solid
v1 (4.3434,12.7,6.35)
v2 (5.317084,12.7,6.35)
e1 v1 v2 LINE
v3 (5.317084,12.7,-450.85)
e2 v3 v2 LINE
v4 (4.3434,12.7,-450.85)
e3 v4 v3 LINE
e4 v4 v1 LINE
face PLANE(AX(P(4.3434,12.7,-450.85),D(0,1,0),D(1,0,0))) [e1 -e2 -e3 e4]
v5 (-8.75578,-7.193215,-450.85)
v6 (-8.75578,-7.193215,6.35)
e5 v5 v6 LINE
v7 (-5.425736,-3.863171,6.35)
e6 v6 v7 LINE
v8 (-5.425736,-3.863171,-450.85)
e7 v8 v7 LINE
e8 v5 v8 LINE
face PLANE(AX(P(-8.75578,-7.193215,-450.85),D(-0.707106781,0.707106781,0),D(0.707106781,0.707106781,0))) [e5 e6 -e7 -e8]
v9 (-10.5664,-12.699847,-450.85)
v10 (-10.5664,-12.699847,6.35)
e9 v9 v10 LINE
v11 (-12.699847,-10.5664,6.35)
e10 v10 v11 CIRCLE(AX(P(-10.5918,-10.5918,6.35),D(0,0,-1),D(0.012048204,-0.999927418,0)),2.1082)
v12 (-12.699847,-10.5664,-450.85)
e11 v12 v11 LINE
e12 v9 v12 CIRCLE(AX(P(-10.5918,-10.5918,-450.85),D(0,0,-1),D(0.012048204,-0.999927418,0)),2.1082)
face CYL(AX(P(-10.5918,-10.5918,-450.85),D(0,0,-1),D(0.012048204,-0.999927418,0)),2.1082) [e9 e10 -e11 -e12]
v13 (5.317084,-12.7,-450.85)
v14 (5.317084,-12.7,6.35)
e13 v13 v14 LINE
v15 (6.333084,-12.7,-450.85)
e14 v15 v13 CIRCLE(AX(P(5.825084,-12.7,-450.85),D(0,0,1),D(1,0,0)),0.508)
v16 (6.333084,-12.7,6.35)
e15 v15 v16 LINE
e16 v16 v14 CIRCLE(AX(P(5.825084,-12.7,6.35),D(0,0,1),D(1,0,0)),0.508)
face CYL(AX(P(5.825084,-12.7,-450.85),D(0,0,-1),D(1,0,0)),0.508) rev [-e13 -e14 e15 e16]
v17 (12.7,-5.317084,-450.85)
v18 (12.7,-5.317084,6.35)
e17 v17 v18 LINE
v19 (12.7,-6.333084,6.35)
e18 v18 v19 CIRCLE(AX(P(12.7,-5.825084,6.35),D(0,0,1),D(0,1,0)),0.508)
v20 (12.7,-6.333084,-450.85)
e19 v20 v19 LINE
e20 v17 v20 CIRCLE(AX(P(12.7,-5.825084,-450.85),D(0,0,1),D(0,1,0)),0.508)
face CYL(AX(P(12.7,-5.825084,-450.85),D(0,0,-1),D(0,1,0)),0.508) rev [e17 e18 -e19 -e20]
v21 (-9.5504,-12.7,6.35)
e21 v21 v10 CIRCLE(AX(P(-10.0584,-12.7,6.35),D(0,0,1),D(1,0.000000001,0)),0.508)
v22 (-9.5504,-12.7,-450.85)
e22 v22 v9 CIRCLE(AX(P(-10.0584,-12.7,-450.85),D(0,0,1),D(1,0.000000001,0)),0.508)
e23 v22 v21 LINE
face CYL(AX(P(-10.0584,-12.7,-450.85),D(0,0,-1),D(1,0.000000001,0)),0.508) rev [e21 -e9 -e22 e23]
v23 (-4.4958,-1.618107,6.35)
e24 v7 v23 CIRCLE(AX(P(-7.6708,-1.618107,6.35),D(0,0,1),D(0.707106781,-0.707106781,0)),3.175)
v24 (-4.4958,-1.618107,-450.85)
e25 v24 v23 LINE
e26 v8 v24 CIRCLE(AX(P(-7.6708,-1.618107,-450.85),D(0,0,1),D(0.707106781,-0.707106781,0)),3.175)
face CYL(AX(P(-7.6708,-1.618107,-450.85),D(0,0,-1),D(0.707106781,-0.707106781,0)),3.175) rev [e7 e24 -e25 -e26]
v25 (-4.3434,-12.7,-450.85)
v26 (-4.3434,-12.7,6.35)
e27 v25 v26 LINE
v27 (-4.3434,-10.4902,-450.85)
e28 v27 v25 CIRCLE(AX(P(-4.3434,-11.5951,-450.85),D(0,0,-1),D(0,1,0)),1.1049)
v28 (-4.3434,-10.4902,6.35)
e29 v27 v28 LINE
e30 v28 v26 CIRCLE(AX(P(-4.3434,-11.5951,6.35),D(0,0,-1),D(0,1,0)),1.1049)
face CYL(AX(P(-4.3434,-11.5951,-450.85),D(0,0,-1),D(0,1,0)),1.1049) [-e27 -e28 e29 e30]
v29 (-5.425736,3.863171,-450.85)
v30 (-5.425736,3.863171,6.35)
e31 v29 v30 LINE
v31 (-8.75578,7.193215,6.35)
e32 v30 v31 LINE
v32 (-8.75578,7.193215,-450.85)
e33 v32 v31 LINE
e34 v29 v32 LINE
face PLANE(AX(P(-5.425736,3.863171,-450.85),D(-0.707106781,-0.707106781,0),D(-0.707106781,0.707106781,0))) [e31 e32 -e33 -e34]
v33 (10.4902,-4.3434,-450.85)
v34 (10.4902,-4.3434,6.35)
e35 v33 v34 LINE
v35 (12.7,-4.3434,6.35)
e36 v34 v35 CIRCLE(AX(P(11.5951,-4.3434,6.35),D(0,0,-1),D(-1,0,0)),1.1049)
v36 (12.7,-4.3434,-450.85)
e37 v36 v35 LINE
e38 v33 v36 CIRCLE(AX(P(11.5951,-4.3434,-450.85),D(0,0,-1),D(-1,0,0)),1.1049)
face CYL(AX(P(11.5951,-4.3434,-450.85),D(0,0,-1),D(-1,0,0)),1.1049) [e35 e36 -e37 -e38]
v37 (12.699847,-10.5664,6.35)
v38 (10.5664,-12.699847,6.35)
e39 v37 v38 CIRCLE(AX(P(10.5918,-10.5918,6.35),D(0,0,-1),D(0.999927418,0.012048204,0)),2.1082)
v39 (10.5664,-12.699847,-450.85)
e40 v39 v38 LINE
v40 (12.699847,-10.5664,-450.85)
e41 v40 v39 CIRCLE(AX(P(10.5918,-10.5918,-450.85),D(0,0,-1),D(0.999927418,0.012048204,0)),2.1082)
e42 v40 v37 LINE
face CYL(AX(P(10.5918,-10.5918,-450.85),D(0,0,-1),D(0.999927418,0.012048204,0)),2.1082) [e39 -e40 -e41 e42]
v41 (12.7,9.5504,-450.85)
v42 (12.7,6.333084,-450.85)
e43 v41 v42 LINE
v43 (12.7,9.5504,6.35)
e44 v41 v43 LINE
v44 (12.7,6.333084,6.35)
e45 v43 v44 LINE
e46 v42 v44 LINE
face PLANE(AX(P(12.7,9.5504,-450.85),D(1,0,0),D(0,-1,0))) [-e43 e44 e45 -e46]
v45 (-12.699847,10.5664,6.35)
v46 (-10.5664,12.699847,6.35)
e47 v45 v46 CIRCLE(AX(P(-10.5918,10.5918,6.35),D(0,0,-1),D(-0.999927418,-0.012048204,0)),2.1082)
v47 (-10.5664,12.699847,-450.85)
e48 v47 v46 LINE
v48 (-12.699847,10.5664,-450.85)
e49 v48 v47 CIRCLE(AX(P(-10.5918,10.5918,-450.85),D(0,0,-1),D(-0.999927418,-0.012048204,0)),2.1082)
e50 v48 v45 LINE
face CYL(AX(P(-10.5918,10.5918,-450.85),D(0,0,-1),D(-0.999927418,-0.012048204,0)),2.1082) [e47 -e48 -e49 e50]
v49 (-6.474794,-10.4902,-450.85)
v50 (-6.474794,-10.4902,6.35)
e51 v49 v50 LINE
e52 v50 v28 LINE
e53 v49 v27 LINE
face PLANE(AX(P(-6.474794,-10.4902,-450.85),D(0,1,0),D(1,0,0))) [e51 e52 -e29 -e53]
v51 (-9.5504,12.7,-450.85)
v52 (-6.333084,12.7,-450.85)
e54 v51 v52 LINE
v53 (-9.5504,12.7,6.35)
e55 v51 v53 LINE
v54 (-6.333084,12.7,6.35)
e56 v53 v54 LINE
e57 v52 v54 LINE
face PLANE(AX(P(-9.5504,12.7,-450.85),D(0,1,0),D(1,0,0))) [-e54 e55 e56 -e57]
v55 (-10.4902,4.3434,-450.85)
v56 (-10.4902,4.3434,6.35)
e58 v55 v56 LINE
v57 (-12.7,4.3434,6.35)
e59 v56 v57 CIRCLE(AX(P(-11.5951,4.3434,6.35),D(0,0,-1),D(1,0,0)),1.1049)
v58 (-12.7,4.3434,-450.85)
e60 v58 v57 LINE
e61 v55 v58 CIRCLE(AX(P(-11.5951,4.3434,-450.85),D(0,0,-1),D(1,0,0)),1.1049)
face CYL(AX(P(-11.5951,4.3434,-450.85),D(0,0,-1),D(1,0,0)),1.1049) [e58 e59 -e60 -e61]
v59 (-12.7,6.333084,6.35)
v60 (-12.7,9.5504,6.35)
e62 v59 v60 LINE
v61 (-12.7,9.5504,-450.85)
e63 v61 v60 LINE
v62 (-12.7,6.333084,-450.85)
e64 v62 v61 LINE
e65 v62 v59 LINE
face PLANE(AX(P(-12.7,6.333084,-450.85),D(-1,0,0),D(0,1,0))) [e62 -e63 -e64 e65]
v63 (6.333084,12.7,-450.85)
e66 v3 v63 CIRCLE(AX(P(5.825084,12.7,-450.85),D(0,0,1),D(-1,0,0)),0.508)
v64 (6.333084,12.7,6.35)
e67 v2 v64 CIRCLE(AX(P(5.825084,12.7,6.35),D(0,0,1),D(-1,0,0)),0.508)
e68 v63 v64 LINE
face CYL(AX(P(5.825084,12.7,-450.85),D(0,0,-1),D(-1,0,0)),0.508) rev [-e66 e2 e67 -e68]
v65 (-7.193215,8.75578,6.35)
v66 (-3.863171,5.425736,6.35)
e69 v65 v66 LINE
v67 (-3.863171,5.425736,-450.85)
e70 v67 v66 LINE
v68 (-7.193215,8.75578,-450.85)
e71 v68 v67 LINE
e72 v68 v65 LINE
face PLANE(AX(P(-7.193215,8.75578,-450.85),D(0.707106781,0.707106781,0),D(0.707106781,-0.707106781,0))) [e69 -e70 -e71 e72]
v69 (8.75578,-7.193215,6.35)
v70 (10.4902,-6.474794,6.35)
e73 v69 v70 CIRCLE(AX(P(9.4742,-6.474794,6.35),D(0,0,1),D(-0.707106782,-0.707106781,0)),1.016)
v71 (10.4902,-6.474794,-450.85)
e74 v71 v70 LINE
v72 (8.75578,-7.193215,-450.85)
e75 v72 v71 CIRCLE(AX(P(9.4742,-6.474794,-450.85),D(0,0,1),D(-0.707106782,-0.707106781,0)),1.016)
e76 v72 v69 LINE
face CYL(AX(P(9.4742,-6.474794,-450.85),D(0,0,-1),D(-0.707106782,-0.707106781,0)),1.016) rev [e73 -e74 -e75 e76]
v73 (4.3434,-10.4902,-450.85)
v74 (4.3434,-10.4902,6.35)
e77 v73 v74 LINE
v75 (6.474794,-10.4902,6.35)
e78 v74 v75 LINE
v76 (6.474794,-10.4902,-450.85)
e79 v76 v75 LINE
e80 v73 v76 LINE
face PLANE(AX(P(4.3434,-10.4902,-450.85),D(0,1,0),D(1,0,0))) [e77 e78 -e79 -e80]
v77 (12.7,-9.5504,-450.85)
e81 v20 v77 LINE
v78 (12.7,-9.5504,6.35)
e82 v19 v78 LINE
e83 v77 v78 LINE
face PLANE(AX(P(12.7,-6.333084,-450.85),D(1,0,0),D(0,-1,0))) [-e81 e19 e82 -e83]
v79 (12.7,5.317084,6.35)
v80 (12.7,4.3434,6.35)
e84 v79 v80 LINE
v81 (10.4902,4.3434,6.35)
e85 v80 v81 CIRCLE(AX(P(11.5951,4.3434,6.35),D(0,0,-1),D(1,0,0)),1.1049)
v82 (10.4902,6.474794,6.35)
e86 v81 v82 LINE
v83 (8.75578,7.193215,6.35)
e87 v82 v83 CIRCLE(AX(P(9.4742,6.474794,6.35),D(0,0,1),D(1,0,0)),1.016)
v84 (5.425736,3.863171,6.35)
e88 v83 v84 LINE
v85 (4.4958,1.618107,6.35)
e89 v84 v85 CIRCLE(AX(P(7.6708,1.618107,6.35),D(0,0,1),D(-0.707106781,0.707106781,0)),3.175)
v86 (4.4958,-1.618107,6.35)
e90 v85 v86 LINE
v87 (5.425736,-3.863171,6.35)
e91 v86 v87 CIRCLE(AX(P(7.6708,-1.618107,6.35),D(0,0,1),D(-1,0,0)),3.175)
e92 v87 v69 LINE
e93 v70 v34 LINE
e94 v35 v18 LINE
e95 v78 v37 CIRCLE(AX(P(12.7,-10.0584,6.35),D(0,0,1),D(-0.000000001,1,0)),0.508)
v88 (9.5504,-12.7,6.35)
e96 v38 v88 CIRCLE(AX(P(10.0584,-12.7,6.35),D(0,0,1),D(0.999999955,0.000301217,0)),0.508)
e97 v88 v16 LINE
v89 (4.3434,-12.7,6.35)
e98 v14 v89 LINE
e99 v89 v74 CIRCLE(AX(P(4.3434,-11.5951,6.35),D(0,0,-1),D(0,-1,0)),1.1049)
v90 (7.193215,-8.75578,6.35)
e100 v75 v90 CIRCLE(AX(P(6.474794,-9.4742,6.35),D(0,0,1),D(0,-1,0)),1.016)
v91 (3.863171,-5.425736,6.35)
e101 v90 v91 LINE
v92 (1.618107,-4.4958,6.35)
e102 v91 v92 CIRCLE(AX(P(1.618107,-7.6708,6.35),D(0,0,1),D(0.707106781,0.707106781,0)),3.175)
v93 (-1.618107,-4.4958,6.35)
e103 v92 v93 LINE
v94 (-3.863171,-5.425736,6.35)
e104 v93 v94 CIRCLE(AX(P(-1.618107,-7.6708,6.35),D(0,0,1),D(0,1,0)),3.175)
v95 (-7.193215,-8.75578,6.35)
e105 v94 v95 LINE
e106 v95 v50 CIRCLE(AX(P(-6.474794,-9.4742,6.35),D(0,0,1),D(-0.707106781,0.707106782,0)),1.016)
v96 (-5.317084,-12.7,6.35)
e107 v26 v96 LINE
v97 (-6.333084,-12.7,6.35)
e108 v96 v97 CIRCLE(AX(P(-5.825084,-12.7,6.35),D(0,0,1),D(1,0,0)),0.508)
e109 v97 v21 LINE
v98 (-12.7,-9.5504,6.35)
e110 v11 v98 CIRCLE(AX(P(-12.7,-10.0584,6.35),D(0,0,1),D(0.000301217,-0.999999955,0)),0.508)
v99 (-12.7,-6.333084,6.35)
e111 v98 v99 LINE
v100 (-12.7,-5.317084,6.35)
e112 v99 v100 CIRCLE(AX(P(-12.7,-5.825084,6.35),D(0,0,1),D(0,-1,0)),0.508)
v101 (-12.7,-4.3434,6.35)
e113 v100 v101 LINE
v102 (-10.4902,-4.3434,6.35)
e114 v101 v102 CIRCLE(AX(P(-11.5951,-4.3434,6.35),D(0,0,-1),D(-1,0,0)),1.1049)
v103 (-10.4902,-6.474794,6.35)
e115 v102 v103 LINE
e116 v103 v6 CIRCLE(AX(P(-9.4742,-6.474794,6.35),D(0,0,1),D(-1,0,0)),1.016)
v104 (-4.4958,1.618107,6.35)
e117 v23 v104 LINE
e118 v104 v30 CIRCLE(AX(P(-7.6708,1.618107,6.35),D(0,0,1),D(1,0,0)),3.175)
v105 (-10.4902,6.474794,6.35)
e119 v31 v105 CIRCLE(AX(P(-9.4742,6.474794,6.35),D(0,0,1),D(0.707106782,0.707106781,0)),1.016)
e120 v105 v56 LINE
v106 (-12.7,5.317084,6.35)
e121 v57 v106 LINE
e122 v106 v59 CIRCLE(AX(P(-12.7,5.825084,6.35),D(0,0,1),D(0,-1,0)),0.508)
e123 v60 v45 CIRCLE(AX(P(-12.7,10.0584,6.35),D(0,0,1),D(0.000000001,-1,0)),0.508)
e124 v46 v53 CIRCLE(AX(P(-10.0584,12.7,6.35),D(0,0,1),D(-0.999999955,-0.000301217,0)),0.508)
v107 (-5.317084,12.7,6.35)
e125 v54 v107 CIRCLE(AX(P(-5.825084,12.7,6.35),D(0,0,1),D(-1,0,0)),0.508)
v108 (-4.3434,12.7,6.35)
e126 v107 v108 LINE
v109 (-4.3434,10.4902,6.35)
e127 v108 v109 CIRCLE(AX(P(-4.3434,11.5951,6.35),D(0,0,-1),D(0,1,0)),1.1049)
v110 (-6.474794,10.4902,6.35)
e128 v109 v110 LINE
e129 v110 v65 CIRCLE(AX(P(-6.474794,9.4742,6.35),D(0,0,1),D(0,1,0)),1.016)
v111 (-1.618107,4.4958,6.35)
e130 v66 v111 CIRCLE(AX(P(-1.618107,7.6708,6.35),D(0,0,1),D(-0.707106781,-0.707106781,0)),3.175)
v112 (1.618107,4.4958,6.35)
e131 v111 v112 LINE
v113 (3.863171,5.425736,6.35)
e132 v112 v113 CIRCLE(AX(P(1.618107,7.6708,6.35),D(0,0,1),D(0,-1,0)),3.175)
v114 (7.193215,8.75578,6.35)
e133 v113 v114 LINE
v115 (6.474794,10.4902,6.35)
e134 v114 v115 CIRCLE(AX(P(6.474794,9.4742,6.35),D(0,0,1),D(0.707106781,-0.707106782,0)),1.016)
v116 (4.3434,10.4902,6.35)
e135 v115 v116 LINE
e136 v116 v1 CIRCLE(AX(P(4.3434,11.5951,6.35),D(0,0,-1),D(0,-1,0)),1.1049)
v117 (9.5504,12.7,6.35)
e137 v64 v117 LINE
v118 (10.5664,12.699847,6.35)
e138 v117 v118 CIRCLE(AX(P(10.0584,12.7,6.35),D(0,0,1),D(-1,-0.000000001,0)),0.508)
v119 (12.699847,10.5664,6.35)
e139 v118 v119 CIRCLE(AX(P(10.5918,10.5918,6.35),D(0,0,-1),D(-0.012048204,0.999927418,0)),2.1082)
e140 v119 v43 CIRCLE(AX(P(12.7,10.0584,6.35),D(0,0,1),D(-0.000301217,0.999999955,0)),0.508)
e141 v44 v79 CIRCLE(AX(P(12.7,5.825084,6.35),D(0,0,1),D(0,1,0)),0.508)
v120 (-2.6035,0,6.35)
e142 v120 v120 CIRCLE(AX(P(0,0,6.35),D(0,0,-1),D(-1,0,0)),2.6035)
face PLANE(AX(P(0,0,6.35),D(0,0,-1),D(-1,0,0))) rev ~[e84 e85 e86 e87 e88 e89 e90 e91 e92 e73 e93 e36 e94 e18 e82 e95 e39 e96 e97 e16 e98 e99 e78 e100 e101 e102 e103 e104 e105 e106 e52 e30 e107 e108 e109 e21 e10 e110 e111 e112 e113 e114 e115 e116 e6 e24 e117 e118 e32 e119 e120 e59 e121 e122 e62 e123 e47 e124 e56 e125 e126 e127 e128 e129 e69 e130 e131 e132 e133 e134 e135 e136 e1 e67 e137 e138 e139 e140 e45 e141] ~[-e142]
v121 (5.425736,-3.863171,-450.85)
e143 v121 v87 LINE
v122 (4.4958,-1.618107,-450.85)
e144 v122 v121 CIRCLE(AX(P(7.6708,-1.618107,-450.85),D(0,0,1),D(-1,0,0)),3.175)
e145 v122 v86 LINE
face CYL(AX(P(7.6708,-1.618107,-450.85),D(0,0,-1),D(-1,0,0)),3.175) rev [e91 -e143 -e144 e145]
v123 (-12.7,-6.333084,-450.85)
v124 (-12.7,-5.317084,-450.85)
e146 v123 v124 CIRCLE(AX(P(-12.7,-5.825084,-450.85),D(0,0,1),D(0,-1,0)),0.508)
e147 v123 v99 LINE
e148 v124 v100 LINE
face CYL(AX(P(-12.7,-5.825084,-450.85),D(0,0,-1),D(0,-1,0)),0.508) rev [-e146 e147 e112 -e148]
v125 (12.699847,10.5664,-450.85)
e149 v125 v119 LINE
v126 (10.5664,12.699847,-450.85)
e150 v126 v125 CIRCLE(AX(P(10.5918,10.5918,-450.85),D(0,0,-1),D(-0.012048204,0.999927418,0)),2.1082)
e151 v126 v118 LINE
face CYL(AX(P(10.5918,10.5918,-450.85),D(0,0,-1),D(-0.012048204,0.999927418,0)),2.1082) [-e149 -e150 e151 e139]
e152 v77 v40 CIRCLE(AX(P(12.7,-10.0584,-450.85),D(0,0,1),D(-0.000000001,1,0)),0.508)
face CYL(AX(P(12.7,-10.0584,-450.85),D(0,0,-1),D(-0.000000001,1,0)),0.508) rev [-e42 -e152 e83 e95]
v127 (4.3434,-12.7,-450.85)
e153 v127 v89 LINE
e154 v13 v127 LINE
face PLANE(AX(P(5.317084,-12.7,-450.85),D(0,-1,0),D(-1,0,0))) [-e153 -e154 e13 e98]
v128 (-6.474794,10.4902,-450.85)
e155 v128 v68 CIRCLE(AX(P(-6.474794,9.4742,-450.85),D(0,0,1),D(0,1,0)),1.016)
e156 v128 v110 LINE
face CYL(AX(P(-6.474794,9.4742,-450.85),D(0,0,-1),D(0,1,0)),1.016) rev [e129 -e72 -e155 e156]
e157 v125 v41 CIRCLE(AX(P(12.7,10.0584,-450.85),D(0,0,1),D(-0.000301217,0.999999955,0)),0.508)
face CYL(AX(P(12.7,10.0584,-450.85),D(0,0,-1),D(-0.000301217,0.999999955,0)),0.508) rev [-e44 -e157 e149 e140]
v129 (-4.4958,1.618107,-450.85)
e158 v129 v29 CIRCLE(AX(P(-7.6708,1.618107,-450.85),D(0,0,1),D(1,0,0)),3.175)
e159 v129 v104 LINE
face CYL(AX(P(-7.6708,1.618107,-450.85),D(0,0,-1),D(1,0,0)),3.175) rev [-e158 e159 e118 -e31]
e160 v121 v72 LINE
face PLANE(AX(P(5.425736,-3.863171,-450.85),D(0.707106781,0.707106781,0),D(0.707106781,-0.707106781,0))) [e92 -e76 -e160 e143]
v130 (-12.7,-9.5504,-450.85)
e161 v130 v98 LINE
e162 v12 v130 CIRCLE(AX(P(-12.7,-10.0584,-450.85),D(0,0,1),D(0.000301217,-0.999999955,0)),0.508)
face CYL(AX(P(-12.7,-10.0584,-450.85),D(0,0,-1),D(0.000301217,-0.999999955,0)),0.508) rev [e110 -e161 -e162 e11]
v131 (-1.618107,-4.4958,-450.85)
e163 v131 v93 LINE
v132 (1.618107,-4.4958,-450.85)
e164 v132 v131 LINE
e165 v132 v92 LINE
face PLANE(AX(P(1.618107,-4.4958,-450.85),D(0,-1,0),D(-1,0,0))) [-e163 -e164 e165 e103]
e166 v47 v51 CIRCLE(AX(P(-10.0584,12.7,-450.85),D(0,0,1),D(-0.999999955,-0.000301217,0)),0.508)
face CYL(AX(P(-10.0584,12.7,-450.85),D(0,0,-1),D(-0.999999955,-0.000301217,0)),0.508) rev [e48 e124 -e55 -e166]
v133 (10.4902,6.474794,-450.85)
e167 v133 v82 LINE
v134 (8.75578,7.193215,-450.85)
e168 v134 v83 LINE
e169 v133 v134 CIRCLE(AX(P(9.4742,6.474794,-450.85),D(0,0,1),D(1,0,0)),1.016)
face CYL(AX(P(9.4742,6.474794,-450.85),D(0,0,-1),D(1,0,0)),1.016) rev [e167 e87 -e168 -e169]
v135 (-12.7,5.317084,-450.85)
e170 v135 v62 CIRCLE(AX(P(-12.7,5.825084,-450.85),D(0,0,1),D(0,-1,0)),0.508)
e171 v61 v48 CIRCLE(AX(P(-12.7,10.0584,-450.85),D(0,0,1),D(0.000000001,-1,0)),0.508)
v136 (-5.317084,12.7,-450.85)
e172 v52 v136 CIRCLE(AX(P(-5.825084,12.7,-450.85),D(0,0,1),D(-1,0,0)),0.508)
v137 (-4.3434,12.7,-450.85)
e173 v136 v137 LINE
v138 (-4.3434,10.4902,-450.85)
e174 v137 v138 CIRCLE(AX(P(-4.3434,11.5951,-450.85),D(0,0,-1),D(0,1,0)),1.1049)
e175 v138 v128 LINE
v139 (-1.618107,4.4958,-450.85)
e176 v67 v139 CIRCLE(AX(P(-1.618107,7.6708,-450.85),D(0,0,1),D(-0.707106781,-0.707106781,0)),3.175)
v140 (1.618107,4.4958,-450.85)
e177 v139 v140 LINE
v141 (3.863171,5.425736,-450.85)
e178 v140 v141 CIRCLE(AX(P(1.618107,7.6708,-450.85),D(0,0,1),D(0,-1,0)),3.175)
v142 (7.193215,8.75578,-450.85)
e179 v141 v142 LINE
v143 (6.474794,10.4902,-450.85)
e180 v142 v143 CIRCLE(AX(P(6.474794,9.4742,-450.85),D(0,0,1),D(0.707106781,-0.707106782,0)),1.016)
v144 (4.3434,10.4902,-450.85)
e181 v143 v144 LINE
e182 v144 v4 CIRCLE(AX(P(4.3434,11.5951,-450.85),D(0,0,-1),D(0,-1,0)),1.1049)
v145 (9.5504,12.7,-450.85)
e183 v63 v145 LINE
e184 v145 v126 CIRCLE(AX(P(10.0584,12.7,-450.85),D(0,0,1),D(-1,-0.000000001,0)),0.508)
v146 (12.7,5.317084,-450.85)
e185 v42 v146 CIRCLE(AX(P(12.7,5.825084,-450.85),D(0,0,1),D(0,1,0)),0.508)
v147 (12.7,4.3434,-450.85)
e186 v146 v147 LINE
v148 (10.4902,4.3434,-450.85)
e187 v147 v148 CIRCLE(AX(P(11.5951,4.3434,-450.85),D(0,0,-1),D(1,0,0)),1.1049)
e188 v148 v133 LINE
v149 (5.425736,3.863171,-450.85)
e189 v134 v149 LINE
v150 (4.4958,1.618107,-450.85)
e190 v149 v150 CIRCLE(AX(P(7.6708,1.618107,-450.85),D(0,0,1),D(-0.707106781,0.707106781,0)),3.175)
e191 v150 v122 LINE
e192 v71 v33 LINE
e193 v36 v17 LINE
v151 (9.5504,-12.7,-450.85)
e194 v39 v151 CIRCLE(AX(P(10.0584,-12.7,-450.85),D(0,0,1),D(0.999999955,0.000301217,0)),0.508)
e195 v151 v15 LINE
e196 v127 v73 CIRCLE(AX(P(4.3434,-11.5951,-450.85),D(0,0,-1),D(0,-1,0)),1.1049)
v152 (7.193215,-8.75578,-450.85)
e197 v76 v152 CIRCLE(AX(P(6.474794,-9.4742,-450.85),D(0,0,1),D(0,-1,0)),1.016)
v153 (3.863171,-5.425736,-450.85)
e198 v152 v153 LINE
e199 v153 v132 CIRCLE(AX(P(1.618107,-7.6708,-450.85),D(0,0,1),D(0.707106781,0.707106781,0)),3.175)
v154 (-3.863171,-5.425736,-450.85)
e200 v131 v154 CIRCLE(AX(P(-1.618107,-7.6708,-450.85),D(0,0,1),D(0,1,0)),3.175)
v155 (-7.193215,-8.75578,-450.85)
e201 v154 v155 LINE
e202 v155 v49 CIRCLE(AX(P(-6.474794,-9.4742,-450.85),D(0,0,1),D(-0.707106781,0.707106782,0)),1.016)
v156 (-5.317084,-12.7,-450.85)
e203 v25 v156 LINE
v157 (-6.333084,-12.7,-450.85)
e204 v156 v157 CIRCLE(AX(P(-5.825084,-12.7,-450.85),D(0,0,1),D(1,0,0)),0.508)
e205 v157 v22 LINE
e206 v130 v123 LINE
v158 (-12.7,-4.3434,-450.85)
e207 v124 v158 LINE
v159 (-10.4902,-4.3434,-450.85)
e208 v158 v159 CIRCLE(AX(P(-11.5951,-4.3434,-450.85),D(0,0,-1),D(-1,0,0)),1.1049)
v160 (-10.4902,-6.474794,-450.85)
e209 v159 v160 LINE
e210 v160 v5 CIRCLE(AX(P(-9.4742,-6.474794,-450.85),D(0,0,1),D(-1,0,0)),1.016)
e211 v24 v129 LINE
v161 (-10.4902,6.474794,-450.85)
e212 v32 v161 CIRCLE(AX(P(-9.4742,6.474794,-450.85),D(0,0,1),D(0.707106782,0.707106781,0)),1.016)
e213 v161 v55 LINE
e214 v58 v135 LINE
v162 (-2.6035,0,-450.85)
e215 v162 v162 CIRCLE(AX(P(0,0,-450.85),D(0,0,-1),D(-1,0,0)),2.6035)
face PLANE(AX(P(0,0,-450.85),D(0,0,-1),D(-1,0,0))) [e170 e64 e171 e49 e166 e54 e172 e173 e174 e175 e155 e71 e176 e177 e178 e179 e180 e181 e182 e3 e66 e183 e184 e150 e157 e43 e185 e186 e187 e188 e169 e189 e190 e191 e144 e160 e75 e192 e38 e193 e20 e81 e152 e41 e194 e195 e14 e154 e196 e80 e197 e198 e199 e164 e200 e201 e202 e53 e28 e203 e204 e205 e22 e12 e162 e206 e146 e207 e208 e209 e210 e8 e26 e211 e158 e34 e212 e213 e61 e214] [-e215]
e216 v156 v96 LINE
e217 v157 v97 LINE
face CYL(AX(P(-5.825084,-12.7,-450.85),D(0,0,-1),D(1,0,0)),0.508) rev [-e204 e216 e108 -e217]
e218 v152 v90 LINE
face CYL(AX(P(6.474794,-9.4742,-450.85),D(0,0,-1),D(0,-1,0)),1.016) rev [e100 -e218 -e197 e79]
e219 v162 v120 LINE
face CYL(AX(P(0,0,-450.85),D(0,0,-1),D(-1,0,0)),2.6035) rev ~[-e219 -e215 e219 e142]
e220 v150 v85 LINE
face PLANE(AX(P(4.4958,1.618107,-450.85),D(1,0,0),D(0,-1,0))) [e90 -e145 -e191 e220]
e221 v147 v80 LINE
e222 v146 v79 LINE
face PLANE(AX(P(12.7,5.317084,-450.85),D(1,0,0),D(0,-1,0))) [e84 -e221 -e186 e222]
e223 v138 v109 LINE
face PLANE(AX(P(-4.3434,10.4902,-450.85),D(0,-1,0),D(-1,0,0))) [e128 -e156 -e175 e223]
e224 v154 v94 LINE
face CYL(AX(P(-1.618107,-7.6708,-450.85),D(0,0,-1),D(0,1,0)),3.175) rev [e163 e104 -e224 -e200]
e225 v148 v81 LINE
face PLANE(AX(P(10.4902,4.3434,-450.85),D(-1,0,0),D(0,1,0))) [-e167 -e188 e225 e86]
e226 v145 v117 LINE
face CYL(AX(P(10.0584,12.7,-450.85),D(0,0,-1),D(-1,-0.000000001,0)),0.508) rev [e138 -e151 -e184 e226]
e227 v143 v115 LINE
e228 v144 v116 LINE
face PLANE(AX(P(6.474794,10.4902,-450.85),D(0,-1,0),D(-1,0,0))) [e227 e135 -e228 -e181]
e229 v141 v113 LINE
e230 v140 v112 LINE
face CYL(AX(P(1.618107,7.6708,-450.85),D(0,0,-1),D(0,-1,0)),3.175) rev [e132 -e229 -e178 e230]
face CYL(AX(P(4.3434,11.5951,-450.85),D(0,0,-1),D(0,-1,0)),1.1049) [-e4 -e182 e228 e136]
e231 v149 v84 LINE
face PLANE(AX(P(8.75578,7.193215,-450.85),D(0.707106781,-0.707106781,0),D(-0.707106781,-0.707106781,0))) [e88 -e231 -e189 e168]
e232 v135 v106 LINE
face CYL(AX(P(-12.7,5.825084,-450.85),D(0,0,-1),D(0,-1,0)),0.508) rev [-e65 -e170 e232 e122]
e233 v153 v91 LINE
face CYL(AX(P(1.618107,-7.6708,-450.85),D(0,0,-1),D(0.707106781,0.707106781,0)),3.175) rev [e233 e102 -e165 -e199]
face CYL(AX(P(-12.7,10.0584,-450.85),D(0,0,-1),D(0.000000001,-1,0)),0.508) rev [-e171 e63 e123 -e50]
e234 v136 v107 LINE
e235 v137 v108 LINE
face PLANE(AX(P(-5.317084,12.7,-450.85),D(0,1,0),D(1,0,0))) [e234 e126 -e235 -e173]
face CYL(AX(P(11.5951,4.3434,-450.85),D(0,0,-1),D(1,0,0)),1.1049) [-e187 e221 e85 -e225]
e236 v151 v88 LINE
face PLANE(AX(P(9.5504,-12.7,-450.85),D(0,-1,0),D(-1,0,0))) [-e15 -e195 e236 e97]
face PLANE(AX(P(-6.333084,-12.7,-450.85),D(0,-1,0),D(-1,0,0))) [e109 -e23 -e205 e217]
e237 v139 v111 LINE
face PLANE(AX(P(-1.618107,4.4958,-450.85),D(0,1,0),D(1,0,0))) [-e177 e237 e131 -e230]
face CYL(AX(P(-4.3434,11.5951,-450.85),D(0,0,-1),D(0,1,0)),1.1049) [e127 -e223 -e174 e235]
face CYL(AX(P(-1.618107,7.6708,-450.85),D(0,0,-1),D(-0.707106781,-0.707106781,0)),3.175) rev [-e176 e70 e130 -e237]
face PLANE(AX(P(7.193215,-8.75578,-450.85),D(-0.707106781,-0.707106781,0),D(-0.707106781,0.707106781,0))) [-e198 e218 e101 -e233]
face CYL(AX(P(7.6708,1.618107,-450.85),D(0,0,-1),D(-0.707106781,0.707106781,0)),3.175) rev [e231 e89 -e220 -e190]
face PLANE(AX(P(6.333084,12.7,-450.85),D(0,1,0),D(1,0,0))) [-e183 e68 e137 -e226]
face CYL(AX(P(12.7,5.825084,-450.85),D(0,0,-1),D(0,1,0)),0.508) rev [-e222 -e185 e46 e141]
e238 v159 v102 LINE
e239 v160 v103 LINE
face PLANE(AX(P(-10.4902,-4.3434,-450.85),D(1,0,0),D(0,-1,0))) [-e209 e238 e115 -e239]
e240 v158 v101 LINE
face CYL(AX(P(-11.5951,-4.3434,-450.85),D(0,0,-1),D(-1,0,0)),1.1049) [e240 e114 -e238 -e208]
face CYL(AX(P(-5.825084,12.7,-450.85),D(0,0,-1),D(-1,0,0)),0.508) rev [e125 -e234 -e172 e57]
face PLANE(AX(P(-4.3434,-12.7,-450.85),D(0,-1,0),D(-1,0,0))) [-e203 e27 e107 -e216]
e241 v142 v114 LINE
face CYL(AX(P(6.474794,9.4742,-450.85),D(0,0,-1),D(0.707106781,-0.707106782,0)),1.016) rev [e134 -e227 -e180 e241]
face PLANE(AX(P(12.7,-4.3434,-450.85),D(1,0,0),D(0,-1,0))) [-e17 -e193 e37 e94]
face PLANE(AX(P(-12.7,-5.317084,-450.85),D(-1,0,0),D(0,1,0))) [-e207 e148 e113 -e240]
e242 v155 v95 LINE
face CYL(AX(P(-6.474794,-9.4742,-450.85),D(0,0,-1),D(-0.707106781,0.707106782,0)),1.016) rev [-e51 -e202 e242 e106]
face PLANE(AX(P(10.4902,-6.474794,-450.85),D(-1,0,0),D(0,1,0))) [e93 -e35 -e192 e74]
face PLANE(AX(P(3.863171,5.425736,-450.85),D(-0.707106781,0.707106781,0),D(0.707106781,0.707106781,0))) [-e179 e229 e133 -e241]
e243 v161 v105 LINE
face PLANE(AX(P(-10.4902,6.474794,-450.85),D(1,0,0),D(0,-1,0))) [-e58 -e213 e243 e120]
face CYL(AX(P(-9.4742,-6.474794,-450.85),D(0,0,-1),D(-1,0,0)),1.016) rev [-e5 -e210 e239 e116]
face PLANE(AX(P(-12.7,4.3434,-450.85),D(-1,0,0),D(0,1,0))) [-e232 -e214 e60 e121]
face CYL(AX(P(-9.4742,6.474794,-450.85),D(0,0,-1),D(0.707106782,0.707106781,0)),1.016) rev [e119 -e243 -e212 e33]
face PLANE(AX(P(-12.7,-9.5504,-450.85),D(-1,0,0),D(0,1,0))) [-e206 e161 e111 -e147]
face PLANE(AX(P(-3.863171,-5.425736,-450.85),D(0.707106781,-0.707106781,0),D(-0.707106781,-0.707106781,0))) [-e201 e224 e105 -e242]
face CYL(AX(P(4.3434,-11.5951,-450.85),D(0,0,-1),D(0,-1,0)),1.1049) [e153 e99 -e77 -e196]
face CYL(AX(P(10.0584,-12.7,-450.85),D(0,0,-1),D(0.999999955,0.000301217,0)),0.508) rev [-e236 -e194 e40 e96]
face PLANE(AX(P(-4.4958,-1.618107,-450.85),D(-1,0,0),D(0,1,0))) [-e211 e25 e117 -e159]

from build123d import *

# Parameters (mm, degrees)
SKETCH1_R           = 2.6035
BOSS_EXTRUDE1_DEPTH = 457.2


with BuildPart() as part:
    # Sketch1 → Boss-Extrude1 (new body)
    with BuildSketch(Plane(origin=(0, 0, -450.85), x_dir=(-1, 0, 0), z_dir=(0, 0, -1))):
        with BuildLine():
            Line((12.7, -9.5504), (12.7, -6.3330836))
            ThreePointArc((12.7, -6.3330836), (12.192, -5.8250836), (12.7, -5.3170836))
            Line((12.7, -5.3170836), (12.7, -4.3434))
            ThreePointArc((12.7, -4.3434), (11.5951, -3.2385), (10.4902, -4.3434))
            Line((10.4902, -4.3434), (10.4902, -6.474794456))
            ThreePointArc((10.4902, -6.474794456), (9.863006367, -7.413456061), (8.75577951, -7.193214945))
            Line((8.75577951, -7.193214945), (5.42573597, -3.863171405))
            ThreePointArc((5.42573597, -3.863171405), (4.737482484, -2.833127272), (4.4958, -1.618107374))
            Line((4.4958, -1.618107374), (4.4958, 1.618107374))
            ThreePointArc((4.4958, 1.618107374), (4.737482484, 2.833127272), (5.42573597, 3.863171405))
            Line((5.42573597, 3.863171405), (8.75577951, 7.193214945))
            ThreePointArc((8.75577951, 7.193214945), (9.863006367, 7.413456061), (10.4902, 6.474794456))
            Line((10.4902, 6.474794456), (10.4902, 4.343399971))
            ThreePointArc((10.4902, 4.343399971), (11.5951, 3.238499971), (12.7, 4.343399971))
            Line((12.7, 4.343399971), (12.7, 5.3170836))
            ThreePointArc((12.7, 5.3170836), (12.192, 5.8250836), (12.7, 6.3330836))
            Line((12.7, 6.3330836), (12.7, 9.5504))
            ThreePointArc((12.7, 9.5504), (12.192000006, 10.058323491), (12.699846982, 10.566399977))
            ThreePointArc((12.699846982, 10.566399977), (12.082522516, 12.082522516), (10.566399977, 12.699846982))
            ThreePointArc((10.566399977, 12.699846982), (10.058323491, 12.192000006), (9.5504, 12.7))
            Line((9.5504, 12.7), (6.3330836, 12.7))
            ThreePointArc((6.3330836, 12.7), (5.8250836, 12.192), (5.3170836, 12.7))
            Line((5.3170836, 12.7), (4.3434, 12.7))
            ThreePointArc((4.3434, 12.7), (3.2385, 11.5951), (4.3434, 10.4902))
            Line((4.3434, 10.4902), (6.474794456, 10.4902))
            ThreePointArc((6.474794456, 10.4902), (7.413456061, 9.863006367), (7.193214945, 8.75577951))
            Line((7.193214945, 8.75577951), (3.863171405, 5.42573597))
            ThreePointArc((3.863171405, 5.42573597), (2.833127272, 4.737482484), (1.618107374, 4.4958))
            Line((1.618107374, 4.4958), (-1.618107374, 4.4958))
            ThreePointArc((-1.618107374, 4.4958), (-2.833127272, 4.737482484), (-3.863171405, 5.42573597))
            Line((-3.863171405, 5.42573597), (-7.193214945, 8.75577951))
            ThreePointArc((-7.193214945, 8.75577951), (-7.413456061, 9.863006367), (-6.474794456, 10.4902))
            Line((-6.474794456, 10.4902), (-4.343399971, 10.4902))
            ThreePointArc((-4.343399971, 10.4902), (-3.238499971, 11.5951), (-4.343399971, 12.7))
            Line((-4.343399971, 12.7), (-5.3170836, 12.7))
            ThreePointArc((-5.3170836, 12.7), (-5.8250836, 12.192), (-6.3330836, 12.7))
            Line((-6.3330836, 12.7), (-9.5504, 12.7))
            ThreePointArc((-9.5504, 12.7), (-10.058323491, 12.192000006), (-10.566399977, 12.699846982))
            ThreePointArc((-10.566399977, 12.699846982), (-12.082522516, 12.082522516), (-12.699846982, 10.566399977))
            ThreePointArc((-12.699846982, 10.566399977), (-12.192000006, 10.058323491), (-12.7, 9.5504))
            Line((-12.7, 9.5504), (-12.7, 6.3330836))
            ThreePointArc((-12.7, 6.3330836), (-12.192, 5.8250836), (-12.7, 5.3170836))
            Line((-12.7, 5.3170836), (-12.7, 4.3434))
            ThreePointArc((-12.7, 4.3434), (-11.5951, 3.2385), (-10.4902, 4.3434))
            Line((-10.4902, 4.3434), (-10.4902, 6.474794456))
            ThreePointArc((-10.4902, 6.474794456), (-9.863006367, 7.413456061), (-8.75577951, 7.193214945))
            Line((-8.75577951, 7.193214945), (-5.42573597, 3.863171405))
            ThreePointArc((-5.42573597, 3.863171405), (-4.737482484, 2.833127272), (-4.4958, 1.618107374))
            Line((-4.4958, 1.618107374), (-4.4958, -1.618107374))
            ThreePointArc((-4.4958, -1.618107374), (-4.737482484, -2.833127272), (-5.42573597, -3.863171405))
            Line((-5.42573597, -3.863171405), (-8.75577951, -7.193214945))
            ThreePointArc((-8.75577951, -7.193214945), (-9.863006367, -7.413456061), (-10.4902, -6.474794456))
            Line((-10.4902, -6.474794456), (-10.4902, -4.343399971))
            ThreePointArc((-10.4902, -4.343399971), (-11.5951, -3.238499971), (-12.7, -4.343399971))
            Line((-12.7, -4.343399971), (-12.7, -5.3170836))
            ThreePointArc((-12.7, -5.3170836), (-12.192, -5.8250836), (-12.7, -6.3330836))
            Line((-12.7, -6.3330836), (-12.7, -9.5504))
            ThreePointArc((-12.7, -9.5504), (-12.192000006, -10.058323491), (-12.699846982, -10.566399977))
            ThreePointArc((-12.699846982, -10.566399977), (-12.082522516, -12.082522516), (-10.566399977, -12.699846982))
            ThreePointArc((-10.566399977, -12.699846982), (-10.058323491, -12.192000006), (-9.5504, -12.7))
            Line((-9.5504, -12.7), (-6.3330836, -12.7))
            ThreePointArc((-6.3330836, -12.7), (-5.8250836, -12.192), (-5.3170836, -12.7))
            Line((-5.3170836, -12.7), (-4.3434, -12.7))
            ThreePointArc((-4.3434, -12.7), (-3.2385, -11.5951), (-4.3434, -10.4902))
            Line((-4.3434, -10.4902), (-6.474794456, -10.4902))
            ThreePointArc((-6.474794456, -10.4902), (-7.413456061, -9.863006367), (-7.193214945, -8.75577951))
            Line((-7.193214945, -8.75577951), (-3.863171405, -5.42573597))
            ThreePointArc((-3.863171405, -5.42573597), (-2.833127272, -4.737482484), (-1.618107374, -4.4958))
            Line((-1.618107374, -4.4958), (1.618107374, -4.4958))
            ThreePointArc((1.618107374, -4.4958), (2.833127272, -4.737482484), (3.863171405, -5.42573597))
            Line((3.863171405, -5.42573597), (7.193214945, -8.75577951))
            ThreePointArc((7.193214945, -8.75577951), (7.413456061, -9.863006367), (6.474794456, -10.4902))
            Line((6.474794456, -10.4902), (4.343399971, -10.4902))
            ThreePointArc((4.343399971, -10.4902), (3.238499971, -11.5951), (4.343399971, -12.7))
            Line((4.343399971, -12.7), (5.3170836, -12.7))
            ThreePointArc((5.3170836, -12.7), (5.8250836, -12.192), (6.3330836, -12.7))
            Line((6.3330836, -12.7), (9.5504, -12.7))
            ThreePointArc((9.5504, -12.7), (10.058323491, -12.192000006), (10.566399977, -12.699846982))
            ThreePointArc((10.566399977, -12.699846982), (12.082522516, -12.082522516), (12.699846982, -10.566399977))
            ThreePointArc((12.699846982, -10.566399977), (12.192000006, -10.058323491), (12.7, -9.5504))
        make_face()
        Circle(SKETCH1_R, mode=Mode.SUBTRACT)
    extrude(amount=-BOSS_EXTRUDE1_DEPTH)


solid = part.part
